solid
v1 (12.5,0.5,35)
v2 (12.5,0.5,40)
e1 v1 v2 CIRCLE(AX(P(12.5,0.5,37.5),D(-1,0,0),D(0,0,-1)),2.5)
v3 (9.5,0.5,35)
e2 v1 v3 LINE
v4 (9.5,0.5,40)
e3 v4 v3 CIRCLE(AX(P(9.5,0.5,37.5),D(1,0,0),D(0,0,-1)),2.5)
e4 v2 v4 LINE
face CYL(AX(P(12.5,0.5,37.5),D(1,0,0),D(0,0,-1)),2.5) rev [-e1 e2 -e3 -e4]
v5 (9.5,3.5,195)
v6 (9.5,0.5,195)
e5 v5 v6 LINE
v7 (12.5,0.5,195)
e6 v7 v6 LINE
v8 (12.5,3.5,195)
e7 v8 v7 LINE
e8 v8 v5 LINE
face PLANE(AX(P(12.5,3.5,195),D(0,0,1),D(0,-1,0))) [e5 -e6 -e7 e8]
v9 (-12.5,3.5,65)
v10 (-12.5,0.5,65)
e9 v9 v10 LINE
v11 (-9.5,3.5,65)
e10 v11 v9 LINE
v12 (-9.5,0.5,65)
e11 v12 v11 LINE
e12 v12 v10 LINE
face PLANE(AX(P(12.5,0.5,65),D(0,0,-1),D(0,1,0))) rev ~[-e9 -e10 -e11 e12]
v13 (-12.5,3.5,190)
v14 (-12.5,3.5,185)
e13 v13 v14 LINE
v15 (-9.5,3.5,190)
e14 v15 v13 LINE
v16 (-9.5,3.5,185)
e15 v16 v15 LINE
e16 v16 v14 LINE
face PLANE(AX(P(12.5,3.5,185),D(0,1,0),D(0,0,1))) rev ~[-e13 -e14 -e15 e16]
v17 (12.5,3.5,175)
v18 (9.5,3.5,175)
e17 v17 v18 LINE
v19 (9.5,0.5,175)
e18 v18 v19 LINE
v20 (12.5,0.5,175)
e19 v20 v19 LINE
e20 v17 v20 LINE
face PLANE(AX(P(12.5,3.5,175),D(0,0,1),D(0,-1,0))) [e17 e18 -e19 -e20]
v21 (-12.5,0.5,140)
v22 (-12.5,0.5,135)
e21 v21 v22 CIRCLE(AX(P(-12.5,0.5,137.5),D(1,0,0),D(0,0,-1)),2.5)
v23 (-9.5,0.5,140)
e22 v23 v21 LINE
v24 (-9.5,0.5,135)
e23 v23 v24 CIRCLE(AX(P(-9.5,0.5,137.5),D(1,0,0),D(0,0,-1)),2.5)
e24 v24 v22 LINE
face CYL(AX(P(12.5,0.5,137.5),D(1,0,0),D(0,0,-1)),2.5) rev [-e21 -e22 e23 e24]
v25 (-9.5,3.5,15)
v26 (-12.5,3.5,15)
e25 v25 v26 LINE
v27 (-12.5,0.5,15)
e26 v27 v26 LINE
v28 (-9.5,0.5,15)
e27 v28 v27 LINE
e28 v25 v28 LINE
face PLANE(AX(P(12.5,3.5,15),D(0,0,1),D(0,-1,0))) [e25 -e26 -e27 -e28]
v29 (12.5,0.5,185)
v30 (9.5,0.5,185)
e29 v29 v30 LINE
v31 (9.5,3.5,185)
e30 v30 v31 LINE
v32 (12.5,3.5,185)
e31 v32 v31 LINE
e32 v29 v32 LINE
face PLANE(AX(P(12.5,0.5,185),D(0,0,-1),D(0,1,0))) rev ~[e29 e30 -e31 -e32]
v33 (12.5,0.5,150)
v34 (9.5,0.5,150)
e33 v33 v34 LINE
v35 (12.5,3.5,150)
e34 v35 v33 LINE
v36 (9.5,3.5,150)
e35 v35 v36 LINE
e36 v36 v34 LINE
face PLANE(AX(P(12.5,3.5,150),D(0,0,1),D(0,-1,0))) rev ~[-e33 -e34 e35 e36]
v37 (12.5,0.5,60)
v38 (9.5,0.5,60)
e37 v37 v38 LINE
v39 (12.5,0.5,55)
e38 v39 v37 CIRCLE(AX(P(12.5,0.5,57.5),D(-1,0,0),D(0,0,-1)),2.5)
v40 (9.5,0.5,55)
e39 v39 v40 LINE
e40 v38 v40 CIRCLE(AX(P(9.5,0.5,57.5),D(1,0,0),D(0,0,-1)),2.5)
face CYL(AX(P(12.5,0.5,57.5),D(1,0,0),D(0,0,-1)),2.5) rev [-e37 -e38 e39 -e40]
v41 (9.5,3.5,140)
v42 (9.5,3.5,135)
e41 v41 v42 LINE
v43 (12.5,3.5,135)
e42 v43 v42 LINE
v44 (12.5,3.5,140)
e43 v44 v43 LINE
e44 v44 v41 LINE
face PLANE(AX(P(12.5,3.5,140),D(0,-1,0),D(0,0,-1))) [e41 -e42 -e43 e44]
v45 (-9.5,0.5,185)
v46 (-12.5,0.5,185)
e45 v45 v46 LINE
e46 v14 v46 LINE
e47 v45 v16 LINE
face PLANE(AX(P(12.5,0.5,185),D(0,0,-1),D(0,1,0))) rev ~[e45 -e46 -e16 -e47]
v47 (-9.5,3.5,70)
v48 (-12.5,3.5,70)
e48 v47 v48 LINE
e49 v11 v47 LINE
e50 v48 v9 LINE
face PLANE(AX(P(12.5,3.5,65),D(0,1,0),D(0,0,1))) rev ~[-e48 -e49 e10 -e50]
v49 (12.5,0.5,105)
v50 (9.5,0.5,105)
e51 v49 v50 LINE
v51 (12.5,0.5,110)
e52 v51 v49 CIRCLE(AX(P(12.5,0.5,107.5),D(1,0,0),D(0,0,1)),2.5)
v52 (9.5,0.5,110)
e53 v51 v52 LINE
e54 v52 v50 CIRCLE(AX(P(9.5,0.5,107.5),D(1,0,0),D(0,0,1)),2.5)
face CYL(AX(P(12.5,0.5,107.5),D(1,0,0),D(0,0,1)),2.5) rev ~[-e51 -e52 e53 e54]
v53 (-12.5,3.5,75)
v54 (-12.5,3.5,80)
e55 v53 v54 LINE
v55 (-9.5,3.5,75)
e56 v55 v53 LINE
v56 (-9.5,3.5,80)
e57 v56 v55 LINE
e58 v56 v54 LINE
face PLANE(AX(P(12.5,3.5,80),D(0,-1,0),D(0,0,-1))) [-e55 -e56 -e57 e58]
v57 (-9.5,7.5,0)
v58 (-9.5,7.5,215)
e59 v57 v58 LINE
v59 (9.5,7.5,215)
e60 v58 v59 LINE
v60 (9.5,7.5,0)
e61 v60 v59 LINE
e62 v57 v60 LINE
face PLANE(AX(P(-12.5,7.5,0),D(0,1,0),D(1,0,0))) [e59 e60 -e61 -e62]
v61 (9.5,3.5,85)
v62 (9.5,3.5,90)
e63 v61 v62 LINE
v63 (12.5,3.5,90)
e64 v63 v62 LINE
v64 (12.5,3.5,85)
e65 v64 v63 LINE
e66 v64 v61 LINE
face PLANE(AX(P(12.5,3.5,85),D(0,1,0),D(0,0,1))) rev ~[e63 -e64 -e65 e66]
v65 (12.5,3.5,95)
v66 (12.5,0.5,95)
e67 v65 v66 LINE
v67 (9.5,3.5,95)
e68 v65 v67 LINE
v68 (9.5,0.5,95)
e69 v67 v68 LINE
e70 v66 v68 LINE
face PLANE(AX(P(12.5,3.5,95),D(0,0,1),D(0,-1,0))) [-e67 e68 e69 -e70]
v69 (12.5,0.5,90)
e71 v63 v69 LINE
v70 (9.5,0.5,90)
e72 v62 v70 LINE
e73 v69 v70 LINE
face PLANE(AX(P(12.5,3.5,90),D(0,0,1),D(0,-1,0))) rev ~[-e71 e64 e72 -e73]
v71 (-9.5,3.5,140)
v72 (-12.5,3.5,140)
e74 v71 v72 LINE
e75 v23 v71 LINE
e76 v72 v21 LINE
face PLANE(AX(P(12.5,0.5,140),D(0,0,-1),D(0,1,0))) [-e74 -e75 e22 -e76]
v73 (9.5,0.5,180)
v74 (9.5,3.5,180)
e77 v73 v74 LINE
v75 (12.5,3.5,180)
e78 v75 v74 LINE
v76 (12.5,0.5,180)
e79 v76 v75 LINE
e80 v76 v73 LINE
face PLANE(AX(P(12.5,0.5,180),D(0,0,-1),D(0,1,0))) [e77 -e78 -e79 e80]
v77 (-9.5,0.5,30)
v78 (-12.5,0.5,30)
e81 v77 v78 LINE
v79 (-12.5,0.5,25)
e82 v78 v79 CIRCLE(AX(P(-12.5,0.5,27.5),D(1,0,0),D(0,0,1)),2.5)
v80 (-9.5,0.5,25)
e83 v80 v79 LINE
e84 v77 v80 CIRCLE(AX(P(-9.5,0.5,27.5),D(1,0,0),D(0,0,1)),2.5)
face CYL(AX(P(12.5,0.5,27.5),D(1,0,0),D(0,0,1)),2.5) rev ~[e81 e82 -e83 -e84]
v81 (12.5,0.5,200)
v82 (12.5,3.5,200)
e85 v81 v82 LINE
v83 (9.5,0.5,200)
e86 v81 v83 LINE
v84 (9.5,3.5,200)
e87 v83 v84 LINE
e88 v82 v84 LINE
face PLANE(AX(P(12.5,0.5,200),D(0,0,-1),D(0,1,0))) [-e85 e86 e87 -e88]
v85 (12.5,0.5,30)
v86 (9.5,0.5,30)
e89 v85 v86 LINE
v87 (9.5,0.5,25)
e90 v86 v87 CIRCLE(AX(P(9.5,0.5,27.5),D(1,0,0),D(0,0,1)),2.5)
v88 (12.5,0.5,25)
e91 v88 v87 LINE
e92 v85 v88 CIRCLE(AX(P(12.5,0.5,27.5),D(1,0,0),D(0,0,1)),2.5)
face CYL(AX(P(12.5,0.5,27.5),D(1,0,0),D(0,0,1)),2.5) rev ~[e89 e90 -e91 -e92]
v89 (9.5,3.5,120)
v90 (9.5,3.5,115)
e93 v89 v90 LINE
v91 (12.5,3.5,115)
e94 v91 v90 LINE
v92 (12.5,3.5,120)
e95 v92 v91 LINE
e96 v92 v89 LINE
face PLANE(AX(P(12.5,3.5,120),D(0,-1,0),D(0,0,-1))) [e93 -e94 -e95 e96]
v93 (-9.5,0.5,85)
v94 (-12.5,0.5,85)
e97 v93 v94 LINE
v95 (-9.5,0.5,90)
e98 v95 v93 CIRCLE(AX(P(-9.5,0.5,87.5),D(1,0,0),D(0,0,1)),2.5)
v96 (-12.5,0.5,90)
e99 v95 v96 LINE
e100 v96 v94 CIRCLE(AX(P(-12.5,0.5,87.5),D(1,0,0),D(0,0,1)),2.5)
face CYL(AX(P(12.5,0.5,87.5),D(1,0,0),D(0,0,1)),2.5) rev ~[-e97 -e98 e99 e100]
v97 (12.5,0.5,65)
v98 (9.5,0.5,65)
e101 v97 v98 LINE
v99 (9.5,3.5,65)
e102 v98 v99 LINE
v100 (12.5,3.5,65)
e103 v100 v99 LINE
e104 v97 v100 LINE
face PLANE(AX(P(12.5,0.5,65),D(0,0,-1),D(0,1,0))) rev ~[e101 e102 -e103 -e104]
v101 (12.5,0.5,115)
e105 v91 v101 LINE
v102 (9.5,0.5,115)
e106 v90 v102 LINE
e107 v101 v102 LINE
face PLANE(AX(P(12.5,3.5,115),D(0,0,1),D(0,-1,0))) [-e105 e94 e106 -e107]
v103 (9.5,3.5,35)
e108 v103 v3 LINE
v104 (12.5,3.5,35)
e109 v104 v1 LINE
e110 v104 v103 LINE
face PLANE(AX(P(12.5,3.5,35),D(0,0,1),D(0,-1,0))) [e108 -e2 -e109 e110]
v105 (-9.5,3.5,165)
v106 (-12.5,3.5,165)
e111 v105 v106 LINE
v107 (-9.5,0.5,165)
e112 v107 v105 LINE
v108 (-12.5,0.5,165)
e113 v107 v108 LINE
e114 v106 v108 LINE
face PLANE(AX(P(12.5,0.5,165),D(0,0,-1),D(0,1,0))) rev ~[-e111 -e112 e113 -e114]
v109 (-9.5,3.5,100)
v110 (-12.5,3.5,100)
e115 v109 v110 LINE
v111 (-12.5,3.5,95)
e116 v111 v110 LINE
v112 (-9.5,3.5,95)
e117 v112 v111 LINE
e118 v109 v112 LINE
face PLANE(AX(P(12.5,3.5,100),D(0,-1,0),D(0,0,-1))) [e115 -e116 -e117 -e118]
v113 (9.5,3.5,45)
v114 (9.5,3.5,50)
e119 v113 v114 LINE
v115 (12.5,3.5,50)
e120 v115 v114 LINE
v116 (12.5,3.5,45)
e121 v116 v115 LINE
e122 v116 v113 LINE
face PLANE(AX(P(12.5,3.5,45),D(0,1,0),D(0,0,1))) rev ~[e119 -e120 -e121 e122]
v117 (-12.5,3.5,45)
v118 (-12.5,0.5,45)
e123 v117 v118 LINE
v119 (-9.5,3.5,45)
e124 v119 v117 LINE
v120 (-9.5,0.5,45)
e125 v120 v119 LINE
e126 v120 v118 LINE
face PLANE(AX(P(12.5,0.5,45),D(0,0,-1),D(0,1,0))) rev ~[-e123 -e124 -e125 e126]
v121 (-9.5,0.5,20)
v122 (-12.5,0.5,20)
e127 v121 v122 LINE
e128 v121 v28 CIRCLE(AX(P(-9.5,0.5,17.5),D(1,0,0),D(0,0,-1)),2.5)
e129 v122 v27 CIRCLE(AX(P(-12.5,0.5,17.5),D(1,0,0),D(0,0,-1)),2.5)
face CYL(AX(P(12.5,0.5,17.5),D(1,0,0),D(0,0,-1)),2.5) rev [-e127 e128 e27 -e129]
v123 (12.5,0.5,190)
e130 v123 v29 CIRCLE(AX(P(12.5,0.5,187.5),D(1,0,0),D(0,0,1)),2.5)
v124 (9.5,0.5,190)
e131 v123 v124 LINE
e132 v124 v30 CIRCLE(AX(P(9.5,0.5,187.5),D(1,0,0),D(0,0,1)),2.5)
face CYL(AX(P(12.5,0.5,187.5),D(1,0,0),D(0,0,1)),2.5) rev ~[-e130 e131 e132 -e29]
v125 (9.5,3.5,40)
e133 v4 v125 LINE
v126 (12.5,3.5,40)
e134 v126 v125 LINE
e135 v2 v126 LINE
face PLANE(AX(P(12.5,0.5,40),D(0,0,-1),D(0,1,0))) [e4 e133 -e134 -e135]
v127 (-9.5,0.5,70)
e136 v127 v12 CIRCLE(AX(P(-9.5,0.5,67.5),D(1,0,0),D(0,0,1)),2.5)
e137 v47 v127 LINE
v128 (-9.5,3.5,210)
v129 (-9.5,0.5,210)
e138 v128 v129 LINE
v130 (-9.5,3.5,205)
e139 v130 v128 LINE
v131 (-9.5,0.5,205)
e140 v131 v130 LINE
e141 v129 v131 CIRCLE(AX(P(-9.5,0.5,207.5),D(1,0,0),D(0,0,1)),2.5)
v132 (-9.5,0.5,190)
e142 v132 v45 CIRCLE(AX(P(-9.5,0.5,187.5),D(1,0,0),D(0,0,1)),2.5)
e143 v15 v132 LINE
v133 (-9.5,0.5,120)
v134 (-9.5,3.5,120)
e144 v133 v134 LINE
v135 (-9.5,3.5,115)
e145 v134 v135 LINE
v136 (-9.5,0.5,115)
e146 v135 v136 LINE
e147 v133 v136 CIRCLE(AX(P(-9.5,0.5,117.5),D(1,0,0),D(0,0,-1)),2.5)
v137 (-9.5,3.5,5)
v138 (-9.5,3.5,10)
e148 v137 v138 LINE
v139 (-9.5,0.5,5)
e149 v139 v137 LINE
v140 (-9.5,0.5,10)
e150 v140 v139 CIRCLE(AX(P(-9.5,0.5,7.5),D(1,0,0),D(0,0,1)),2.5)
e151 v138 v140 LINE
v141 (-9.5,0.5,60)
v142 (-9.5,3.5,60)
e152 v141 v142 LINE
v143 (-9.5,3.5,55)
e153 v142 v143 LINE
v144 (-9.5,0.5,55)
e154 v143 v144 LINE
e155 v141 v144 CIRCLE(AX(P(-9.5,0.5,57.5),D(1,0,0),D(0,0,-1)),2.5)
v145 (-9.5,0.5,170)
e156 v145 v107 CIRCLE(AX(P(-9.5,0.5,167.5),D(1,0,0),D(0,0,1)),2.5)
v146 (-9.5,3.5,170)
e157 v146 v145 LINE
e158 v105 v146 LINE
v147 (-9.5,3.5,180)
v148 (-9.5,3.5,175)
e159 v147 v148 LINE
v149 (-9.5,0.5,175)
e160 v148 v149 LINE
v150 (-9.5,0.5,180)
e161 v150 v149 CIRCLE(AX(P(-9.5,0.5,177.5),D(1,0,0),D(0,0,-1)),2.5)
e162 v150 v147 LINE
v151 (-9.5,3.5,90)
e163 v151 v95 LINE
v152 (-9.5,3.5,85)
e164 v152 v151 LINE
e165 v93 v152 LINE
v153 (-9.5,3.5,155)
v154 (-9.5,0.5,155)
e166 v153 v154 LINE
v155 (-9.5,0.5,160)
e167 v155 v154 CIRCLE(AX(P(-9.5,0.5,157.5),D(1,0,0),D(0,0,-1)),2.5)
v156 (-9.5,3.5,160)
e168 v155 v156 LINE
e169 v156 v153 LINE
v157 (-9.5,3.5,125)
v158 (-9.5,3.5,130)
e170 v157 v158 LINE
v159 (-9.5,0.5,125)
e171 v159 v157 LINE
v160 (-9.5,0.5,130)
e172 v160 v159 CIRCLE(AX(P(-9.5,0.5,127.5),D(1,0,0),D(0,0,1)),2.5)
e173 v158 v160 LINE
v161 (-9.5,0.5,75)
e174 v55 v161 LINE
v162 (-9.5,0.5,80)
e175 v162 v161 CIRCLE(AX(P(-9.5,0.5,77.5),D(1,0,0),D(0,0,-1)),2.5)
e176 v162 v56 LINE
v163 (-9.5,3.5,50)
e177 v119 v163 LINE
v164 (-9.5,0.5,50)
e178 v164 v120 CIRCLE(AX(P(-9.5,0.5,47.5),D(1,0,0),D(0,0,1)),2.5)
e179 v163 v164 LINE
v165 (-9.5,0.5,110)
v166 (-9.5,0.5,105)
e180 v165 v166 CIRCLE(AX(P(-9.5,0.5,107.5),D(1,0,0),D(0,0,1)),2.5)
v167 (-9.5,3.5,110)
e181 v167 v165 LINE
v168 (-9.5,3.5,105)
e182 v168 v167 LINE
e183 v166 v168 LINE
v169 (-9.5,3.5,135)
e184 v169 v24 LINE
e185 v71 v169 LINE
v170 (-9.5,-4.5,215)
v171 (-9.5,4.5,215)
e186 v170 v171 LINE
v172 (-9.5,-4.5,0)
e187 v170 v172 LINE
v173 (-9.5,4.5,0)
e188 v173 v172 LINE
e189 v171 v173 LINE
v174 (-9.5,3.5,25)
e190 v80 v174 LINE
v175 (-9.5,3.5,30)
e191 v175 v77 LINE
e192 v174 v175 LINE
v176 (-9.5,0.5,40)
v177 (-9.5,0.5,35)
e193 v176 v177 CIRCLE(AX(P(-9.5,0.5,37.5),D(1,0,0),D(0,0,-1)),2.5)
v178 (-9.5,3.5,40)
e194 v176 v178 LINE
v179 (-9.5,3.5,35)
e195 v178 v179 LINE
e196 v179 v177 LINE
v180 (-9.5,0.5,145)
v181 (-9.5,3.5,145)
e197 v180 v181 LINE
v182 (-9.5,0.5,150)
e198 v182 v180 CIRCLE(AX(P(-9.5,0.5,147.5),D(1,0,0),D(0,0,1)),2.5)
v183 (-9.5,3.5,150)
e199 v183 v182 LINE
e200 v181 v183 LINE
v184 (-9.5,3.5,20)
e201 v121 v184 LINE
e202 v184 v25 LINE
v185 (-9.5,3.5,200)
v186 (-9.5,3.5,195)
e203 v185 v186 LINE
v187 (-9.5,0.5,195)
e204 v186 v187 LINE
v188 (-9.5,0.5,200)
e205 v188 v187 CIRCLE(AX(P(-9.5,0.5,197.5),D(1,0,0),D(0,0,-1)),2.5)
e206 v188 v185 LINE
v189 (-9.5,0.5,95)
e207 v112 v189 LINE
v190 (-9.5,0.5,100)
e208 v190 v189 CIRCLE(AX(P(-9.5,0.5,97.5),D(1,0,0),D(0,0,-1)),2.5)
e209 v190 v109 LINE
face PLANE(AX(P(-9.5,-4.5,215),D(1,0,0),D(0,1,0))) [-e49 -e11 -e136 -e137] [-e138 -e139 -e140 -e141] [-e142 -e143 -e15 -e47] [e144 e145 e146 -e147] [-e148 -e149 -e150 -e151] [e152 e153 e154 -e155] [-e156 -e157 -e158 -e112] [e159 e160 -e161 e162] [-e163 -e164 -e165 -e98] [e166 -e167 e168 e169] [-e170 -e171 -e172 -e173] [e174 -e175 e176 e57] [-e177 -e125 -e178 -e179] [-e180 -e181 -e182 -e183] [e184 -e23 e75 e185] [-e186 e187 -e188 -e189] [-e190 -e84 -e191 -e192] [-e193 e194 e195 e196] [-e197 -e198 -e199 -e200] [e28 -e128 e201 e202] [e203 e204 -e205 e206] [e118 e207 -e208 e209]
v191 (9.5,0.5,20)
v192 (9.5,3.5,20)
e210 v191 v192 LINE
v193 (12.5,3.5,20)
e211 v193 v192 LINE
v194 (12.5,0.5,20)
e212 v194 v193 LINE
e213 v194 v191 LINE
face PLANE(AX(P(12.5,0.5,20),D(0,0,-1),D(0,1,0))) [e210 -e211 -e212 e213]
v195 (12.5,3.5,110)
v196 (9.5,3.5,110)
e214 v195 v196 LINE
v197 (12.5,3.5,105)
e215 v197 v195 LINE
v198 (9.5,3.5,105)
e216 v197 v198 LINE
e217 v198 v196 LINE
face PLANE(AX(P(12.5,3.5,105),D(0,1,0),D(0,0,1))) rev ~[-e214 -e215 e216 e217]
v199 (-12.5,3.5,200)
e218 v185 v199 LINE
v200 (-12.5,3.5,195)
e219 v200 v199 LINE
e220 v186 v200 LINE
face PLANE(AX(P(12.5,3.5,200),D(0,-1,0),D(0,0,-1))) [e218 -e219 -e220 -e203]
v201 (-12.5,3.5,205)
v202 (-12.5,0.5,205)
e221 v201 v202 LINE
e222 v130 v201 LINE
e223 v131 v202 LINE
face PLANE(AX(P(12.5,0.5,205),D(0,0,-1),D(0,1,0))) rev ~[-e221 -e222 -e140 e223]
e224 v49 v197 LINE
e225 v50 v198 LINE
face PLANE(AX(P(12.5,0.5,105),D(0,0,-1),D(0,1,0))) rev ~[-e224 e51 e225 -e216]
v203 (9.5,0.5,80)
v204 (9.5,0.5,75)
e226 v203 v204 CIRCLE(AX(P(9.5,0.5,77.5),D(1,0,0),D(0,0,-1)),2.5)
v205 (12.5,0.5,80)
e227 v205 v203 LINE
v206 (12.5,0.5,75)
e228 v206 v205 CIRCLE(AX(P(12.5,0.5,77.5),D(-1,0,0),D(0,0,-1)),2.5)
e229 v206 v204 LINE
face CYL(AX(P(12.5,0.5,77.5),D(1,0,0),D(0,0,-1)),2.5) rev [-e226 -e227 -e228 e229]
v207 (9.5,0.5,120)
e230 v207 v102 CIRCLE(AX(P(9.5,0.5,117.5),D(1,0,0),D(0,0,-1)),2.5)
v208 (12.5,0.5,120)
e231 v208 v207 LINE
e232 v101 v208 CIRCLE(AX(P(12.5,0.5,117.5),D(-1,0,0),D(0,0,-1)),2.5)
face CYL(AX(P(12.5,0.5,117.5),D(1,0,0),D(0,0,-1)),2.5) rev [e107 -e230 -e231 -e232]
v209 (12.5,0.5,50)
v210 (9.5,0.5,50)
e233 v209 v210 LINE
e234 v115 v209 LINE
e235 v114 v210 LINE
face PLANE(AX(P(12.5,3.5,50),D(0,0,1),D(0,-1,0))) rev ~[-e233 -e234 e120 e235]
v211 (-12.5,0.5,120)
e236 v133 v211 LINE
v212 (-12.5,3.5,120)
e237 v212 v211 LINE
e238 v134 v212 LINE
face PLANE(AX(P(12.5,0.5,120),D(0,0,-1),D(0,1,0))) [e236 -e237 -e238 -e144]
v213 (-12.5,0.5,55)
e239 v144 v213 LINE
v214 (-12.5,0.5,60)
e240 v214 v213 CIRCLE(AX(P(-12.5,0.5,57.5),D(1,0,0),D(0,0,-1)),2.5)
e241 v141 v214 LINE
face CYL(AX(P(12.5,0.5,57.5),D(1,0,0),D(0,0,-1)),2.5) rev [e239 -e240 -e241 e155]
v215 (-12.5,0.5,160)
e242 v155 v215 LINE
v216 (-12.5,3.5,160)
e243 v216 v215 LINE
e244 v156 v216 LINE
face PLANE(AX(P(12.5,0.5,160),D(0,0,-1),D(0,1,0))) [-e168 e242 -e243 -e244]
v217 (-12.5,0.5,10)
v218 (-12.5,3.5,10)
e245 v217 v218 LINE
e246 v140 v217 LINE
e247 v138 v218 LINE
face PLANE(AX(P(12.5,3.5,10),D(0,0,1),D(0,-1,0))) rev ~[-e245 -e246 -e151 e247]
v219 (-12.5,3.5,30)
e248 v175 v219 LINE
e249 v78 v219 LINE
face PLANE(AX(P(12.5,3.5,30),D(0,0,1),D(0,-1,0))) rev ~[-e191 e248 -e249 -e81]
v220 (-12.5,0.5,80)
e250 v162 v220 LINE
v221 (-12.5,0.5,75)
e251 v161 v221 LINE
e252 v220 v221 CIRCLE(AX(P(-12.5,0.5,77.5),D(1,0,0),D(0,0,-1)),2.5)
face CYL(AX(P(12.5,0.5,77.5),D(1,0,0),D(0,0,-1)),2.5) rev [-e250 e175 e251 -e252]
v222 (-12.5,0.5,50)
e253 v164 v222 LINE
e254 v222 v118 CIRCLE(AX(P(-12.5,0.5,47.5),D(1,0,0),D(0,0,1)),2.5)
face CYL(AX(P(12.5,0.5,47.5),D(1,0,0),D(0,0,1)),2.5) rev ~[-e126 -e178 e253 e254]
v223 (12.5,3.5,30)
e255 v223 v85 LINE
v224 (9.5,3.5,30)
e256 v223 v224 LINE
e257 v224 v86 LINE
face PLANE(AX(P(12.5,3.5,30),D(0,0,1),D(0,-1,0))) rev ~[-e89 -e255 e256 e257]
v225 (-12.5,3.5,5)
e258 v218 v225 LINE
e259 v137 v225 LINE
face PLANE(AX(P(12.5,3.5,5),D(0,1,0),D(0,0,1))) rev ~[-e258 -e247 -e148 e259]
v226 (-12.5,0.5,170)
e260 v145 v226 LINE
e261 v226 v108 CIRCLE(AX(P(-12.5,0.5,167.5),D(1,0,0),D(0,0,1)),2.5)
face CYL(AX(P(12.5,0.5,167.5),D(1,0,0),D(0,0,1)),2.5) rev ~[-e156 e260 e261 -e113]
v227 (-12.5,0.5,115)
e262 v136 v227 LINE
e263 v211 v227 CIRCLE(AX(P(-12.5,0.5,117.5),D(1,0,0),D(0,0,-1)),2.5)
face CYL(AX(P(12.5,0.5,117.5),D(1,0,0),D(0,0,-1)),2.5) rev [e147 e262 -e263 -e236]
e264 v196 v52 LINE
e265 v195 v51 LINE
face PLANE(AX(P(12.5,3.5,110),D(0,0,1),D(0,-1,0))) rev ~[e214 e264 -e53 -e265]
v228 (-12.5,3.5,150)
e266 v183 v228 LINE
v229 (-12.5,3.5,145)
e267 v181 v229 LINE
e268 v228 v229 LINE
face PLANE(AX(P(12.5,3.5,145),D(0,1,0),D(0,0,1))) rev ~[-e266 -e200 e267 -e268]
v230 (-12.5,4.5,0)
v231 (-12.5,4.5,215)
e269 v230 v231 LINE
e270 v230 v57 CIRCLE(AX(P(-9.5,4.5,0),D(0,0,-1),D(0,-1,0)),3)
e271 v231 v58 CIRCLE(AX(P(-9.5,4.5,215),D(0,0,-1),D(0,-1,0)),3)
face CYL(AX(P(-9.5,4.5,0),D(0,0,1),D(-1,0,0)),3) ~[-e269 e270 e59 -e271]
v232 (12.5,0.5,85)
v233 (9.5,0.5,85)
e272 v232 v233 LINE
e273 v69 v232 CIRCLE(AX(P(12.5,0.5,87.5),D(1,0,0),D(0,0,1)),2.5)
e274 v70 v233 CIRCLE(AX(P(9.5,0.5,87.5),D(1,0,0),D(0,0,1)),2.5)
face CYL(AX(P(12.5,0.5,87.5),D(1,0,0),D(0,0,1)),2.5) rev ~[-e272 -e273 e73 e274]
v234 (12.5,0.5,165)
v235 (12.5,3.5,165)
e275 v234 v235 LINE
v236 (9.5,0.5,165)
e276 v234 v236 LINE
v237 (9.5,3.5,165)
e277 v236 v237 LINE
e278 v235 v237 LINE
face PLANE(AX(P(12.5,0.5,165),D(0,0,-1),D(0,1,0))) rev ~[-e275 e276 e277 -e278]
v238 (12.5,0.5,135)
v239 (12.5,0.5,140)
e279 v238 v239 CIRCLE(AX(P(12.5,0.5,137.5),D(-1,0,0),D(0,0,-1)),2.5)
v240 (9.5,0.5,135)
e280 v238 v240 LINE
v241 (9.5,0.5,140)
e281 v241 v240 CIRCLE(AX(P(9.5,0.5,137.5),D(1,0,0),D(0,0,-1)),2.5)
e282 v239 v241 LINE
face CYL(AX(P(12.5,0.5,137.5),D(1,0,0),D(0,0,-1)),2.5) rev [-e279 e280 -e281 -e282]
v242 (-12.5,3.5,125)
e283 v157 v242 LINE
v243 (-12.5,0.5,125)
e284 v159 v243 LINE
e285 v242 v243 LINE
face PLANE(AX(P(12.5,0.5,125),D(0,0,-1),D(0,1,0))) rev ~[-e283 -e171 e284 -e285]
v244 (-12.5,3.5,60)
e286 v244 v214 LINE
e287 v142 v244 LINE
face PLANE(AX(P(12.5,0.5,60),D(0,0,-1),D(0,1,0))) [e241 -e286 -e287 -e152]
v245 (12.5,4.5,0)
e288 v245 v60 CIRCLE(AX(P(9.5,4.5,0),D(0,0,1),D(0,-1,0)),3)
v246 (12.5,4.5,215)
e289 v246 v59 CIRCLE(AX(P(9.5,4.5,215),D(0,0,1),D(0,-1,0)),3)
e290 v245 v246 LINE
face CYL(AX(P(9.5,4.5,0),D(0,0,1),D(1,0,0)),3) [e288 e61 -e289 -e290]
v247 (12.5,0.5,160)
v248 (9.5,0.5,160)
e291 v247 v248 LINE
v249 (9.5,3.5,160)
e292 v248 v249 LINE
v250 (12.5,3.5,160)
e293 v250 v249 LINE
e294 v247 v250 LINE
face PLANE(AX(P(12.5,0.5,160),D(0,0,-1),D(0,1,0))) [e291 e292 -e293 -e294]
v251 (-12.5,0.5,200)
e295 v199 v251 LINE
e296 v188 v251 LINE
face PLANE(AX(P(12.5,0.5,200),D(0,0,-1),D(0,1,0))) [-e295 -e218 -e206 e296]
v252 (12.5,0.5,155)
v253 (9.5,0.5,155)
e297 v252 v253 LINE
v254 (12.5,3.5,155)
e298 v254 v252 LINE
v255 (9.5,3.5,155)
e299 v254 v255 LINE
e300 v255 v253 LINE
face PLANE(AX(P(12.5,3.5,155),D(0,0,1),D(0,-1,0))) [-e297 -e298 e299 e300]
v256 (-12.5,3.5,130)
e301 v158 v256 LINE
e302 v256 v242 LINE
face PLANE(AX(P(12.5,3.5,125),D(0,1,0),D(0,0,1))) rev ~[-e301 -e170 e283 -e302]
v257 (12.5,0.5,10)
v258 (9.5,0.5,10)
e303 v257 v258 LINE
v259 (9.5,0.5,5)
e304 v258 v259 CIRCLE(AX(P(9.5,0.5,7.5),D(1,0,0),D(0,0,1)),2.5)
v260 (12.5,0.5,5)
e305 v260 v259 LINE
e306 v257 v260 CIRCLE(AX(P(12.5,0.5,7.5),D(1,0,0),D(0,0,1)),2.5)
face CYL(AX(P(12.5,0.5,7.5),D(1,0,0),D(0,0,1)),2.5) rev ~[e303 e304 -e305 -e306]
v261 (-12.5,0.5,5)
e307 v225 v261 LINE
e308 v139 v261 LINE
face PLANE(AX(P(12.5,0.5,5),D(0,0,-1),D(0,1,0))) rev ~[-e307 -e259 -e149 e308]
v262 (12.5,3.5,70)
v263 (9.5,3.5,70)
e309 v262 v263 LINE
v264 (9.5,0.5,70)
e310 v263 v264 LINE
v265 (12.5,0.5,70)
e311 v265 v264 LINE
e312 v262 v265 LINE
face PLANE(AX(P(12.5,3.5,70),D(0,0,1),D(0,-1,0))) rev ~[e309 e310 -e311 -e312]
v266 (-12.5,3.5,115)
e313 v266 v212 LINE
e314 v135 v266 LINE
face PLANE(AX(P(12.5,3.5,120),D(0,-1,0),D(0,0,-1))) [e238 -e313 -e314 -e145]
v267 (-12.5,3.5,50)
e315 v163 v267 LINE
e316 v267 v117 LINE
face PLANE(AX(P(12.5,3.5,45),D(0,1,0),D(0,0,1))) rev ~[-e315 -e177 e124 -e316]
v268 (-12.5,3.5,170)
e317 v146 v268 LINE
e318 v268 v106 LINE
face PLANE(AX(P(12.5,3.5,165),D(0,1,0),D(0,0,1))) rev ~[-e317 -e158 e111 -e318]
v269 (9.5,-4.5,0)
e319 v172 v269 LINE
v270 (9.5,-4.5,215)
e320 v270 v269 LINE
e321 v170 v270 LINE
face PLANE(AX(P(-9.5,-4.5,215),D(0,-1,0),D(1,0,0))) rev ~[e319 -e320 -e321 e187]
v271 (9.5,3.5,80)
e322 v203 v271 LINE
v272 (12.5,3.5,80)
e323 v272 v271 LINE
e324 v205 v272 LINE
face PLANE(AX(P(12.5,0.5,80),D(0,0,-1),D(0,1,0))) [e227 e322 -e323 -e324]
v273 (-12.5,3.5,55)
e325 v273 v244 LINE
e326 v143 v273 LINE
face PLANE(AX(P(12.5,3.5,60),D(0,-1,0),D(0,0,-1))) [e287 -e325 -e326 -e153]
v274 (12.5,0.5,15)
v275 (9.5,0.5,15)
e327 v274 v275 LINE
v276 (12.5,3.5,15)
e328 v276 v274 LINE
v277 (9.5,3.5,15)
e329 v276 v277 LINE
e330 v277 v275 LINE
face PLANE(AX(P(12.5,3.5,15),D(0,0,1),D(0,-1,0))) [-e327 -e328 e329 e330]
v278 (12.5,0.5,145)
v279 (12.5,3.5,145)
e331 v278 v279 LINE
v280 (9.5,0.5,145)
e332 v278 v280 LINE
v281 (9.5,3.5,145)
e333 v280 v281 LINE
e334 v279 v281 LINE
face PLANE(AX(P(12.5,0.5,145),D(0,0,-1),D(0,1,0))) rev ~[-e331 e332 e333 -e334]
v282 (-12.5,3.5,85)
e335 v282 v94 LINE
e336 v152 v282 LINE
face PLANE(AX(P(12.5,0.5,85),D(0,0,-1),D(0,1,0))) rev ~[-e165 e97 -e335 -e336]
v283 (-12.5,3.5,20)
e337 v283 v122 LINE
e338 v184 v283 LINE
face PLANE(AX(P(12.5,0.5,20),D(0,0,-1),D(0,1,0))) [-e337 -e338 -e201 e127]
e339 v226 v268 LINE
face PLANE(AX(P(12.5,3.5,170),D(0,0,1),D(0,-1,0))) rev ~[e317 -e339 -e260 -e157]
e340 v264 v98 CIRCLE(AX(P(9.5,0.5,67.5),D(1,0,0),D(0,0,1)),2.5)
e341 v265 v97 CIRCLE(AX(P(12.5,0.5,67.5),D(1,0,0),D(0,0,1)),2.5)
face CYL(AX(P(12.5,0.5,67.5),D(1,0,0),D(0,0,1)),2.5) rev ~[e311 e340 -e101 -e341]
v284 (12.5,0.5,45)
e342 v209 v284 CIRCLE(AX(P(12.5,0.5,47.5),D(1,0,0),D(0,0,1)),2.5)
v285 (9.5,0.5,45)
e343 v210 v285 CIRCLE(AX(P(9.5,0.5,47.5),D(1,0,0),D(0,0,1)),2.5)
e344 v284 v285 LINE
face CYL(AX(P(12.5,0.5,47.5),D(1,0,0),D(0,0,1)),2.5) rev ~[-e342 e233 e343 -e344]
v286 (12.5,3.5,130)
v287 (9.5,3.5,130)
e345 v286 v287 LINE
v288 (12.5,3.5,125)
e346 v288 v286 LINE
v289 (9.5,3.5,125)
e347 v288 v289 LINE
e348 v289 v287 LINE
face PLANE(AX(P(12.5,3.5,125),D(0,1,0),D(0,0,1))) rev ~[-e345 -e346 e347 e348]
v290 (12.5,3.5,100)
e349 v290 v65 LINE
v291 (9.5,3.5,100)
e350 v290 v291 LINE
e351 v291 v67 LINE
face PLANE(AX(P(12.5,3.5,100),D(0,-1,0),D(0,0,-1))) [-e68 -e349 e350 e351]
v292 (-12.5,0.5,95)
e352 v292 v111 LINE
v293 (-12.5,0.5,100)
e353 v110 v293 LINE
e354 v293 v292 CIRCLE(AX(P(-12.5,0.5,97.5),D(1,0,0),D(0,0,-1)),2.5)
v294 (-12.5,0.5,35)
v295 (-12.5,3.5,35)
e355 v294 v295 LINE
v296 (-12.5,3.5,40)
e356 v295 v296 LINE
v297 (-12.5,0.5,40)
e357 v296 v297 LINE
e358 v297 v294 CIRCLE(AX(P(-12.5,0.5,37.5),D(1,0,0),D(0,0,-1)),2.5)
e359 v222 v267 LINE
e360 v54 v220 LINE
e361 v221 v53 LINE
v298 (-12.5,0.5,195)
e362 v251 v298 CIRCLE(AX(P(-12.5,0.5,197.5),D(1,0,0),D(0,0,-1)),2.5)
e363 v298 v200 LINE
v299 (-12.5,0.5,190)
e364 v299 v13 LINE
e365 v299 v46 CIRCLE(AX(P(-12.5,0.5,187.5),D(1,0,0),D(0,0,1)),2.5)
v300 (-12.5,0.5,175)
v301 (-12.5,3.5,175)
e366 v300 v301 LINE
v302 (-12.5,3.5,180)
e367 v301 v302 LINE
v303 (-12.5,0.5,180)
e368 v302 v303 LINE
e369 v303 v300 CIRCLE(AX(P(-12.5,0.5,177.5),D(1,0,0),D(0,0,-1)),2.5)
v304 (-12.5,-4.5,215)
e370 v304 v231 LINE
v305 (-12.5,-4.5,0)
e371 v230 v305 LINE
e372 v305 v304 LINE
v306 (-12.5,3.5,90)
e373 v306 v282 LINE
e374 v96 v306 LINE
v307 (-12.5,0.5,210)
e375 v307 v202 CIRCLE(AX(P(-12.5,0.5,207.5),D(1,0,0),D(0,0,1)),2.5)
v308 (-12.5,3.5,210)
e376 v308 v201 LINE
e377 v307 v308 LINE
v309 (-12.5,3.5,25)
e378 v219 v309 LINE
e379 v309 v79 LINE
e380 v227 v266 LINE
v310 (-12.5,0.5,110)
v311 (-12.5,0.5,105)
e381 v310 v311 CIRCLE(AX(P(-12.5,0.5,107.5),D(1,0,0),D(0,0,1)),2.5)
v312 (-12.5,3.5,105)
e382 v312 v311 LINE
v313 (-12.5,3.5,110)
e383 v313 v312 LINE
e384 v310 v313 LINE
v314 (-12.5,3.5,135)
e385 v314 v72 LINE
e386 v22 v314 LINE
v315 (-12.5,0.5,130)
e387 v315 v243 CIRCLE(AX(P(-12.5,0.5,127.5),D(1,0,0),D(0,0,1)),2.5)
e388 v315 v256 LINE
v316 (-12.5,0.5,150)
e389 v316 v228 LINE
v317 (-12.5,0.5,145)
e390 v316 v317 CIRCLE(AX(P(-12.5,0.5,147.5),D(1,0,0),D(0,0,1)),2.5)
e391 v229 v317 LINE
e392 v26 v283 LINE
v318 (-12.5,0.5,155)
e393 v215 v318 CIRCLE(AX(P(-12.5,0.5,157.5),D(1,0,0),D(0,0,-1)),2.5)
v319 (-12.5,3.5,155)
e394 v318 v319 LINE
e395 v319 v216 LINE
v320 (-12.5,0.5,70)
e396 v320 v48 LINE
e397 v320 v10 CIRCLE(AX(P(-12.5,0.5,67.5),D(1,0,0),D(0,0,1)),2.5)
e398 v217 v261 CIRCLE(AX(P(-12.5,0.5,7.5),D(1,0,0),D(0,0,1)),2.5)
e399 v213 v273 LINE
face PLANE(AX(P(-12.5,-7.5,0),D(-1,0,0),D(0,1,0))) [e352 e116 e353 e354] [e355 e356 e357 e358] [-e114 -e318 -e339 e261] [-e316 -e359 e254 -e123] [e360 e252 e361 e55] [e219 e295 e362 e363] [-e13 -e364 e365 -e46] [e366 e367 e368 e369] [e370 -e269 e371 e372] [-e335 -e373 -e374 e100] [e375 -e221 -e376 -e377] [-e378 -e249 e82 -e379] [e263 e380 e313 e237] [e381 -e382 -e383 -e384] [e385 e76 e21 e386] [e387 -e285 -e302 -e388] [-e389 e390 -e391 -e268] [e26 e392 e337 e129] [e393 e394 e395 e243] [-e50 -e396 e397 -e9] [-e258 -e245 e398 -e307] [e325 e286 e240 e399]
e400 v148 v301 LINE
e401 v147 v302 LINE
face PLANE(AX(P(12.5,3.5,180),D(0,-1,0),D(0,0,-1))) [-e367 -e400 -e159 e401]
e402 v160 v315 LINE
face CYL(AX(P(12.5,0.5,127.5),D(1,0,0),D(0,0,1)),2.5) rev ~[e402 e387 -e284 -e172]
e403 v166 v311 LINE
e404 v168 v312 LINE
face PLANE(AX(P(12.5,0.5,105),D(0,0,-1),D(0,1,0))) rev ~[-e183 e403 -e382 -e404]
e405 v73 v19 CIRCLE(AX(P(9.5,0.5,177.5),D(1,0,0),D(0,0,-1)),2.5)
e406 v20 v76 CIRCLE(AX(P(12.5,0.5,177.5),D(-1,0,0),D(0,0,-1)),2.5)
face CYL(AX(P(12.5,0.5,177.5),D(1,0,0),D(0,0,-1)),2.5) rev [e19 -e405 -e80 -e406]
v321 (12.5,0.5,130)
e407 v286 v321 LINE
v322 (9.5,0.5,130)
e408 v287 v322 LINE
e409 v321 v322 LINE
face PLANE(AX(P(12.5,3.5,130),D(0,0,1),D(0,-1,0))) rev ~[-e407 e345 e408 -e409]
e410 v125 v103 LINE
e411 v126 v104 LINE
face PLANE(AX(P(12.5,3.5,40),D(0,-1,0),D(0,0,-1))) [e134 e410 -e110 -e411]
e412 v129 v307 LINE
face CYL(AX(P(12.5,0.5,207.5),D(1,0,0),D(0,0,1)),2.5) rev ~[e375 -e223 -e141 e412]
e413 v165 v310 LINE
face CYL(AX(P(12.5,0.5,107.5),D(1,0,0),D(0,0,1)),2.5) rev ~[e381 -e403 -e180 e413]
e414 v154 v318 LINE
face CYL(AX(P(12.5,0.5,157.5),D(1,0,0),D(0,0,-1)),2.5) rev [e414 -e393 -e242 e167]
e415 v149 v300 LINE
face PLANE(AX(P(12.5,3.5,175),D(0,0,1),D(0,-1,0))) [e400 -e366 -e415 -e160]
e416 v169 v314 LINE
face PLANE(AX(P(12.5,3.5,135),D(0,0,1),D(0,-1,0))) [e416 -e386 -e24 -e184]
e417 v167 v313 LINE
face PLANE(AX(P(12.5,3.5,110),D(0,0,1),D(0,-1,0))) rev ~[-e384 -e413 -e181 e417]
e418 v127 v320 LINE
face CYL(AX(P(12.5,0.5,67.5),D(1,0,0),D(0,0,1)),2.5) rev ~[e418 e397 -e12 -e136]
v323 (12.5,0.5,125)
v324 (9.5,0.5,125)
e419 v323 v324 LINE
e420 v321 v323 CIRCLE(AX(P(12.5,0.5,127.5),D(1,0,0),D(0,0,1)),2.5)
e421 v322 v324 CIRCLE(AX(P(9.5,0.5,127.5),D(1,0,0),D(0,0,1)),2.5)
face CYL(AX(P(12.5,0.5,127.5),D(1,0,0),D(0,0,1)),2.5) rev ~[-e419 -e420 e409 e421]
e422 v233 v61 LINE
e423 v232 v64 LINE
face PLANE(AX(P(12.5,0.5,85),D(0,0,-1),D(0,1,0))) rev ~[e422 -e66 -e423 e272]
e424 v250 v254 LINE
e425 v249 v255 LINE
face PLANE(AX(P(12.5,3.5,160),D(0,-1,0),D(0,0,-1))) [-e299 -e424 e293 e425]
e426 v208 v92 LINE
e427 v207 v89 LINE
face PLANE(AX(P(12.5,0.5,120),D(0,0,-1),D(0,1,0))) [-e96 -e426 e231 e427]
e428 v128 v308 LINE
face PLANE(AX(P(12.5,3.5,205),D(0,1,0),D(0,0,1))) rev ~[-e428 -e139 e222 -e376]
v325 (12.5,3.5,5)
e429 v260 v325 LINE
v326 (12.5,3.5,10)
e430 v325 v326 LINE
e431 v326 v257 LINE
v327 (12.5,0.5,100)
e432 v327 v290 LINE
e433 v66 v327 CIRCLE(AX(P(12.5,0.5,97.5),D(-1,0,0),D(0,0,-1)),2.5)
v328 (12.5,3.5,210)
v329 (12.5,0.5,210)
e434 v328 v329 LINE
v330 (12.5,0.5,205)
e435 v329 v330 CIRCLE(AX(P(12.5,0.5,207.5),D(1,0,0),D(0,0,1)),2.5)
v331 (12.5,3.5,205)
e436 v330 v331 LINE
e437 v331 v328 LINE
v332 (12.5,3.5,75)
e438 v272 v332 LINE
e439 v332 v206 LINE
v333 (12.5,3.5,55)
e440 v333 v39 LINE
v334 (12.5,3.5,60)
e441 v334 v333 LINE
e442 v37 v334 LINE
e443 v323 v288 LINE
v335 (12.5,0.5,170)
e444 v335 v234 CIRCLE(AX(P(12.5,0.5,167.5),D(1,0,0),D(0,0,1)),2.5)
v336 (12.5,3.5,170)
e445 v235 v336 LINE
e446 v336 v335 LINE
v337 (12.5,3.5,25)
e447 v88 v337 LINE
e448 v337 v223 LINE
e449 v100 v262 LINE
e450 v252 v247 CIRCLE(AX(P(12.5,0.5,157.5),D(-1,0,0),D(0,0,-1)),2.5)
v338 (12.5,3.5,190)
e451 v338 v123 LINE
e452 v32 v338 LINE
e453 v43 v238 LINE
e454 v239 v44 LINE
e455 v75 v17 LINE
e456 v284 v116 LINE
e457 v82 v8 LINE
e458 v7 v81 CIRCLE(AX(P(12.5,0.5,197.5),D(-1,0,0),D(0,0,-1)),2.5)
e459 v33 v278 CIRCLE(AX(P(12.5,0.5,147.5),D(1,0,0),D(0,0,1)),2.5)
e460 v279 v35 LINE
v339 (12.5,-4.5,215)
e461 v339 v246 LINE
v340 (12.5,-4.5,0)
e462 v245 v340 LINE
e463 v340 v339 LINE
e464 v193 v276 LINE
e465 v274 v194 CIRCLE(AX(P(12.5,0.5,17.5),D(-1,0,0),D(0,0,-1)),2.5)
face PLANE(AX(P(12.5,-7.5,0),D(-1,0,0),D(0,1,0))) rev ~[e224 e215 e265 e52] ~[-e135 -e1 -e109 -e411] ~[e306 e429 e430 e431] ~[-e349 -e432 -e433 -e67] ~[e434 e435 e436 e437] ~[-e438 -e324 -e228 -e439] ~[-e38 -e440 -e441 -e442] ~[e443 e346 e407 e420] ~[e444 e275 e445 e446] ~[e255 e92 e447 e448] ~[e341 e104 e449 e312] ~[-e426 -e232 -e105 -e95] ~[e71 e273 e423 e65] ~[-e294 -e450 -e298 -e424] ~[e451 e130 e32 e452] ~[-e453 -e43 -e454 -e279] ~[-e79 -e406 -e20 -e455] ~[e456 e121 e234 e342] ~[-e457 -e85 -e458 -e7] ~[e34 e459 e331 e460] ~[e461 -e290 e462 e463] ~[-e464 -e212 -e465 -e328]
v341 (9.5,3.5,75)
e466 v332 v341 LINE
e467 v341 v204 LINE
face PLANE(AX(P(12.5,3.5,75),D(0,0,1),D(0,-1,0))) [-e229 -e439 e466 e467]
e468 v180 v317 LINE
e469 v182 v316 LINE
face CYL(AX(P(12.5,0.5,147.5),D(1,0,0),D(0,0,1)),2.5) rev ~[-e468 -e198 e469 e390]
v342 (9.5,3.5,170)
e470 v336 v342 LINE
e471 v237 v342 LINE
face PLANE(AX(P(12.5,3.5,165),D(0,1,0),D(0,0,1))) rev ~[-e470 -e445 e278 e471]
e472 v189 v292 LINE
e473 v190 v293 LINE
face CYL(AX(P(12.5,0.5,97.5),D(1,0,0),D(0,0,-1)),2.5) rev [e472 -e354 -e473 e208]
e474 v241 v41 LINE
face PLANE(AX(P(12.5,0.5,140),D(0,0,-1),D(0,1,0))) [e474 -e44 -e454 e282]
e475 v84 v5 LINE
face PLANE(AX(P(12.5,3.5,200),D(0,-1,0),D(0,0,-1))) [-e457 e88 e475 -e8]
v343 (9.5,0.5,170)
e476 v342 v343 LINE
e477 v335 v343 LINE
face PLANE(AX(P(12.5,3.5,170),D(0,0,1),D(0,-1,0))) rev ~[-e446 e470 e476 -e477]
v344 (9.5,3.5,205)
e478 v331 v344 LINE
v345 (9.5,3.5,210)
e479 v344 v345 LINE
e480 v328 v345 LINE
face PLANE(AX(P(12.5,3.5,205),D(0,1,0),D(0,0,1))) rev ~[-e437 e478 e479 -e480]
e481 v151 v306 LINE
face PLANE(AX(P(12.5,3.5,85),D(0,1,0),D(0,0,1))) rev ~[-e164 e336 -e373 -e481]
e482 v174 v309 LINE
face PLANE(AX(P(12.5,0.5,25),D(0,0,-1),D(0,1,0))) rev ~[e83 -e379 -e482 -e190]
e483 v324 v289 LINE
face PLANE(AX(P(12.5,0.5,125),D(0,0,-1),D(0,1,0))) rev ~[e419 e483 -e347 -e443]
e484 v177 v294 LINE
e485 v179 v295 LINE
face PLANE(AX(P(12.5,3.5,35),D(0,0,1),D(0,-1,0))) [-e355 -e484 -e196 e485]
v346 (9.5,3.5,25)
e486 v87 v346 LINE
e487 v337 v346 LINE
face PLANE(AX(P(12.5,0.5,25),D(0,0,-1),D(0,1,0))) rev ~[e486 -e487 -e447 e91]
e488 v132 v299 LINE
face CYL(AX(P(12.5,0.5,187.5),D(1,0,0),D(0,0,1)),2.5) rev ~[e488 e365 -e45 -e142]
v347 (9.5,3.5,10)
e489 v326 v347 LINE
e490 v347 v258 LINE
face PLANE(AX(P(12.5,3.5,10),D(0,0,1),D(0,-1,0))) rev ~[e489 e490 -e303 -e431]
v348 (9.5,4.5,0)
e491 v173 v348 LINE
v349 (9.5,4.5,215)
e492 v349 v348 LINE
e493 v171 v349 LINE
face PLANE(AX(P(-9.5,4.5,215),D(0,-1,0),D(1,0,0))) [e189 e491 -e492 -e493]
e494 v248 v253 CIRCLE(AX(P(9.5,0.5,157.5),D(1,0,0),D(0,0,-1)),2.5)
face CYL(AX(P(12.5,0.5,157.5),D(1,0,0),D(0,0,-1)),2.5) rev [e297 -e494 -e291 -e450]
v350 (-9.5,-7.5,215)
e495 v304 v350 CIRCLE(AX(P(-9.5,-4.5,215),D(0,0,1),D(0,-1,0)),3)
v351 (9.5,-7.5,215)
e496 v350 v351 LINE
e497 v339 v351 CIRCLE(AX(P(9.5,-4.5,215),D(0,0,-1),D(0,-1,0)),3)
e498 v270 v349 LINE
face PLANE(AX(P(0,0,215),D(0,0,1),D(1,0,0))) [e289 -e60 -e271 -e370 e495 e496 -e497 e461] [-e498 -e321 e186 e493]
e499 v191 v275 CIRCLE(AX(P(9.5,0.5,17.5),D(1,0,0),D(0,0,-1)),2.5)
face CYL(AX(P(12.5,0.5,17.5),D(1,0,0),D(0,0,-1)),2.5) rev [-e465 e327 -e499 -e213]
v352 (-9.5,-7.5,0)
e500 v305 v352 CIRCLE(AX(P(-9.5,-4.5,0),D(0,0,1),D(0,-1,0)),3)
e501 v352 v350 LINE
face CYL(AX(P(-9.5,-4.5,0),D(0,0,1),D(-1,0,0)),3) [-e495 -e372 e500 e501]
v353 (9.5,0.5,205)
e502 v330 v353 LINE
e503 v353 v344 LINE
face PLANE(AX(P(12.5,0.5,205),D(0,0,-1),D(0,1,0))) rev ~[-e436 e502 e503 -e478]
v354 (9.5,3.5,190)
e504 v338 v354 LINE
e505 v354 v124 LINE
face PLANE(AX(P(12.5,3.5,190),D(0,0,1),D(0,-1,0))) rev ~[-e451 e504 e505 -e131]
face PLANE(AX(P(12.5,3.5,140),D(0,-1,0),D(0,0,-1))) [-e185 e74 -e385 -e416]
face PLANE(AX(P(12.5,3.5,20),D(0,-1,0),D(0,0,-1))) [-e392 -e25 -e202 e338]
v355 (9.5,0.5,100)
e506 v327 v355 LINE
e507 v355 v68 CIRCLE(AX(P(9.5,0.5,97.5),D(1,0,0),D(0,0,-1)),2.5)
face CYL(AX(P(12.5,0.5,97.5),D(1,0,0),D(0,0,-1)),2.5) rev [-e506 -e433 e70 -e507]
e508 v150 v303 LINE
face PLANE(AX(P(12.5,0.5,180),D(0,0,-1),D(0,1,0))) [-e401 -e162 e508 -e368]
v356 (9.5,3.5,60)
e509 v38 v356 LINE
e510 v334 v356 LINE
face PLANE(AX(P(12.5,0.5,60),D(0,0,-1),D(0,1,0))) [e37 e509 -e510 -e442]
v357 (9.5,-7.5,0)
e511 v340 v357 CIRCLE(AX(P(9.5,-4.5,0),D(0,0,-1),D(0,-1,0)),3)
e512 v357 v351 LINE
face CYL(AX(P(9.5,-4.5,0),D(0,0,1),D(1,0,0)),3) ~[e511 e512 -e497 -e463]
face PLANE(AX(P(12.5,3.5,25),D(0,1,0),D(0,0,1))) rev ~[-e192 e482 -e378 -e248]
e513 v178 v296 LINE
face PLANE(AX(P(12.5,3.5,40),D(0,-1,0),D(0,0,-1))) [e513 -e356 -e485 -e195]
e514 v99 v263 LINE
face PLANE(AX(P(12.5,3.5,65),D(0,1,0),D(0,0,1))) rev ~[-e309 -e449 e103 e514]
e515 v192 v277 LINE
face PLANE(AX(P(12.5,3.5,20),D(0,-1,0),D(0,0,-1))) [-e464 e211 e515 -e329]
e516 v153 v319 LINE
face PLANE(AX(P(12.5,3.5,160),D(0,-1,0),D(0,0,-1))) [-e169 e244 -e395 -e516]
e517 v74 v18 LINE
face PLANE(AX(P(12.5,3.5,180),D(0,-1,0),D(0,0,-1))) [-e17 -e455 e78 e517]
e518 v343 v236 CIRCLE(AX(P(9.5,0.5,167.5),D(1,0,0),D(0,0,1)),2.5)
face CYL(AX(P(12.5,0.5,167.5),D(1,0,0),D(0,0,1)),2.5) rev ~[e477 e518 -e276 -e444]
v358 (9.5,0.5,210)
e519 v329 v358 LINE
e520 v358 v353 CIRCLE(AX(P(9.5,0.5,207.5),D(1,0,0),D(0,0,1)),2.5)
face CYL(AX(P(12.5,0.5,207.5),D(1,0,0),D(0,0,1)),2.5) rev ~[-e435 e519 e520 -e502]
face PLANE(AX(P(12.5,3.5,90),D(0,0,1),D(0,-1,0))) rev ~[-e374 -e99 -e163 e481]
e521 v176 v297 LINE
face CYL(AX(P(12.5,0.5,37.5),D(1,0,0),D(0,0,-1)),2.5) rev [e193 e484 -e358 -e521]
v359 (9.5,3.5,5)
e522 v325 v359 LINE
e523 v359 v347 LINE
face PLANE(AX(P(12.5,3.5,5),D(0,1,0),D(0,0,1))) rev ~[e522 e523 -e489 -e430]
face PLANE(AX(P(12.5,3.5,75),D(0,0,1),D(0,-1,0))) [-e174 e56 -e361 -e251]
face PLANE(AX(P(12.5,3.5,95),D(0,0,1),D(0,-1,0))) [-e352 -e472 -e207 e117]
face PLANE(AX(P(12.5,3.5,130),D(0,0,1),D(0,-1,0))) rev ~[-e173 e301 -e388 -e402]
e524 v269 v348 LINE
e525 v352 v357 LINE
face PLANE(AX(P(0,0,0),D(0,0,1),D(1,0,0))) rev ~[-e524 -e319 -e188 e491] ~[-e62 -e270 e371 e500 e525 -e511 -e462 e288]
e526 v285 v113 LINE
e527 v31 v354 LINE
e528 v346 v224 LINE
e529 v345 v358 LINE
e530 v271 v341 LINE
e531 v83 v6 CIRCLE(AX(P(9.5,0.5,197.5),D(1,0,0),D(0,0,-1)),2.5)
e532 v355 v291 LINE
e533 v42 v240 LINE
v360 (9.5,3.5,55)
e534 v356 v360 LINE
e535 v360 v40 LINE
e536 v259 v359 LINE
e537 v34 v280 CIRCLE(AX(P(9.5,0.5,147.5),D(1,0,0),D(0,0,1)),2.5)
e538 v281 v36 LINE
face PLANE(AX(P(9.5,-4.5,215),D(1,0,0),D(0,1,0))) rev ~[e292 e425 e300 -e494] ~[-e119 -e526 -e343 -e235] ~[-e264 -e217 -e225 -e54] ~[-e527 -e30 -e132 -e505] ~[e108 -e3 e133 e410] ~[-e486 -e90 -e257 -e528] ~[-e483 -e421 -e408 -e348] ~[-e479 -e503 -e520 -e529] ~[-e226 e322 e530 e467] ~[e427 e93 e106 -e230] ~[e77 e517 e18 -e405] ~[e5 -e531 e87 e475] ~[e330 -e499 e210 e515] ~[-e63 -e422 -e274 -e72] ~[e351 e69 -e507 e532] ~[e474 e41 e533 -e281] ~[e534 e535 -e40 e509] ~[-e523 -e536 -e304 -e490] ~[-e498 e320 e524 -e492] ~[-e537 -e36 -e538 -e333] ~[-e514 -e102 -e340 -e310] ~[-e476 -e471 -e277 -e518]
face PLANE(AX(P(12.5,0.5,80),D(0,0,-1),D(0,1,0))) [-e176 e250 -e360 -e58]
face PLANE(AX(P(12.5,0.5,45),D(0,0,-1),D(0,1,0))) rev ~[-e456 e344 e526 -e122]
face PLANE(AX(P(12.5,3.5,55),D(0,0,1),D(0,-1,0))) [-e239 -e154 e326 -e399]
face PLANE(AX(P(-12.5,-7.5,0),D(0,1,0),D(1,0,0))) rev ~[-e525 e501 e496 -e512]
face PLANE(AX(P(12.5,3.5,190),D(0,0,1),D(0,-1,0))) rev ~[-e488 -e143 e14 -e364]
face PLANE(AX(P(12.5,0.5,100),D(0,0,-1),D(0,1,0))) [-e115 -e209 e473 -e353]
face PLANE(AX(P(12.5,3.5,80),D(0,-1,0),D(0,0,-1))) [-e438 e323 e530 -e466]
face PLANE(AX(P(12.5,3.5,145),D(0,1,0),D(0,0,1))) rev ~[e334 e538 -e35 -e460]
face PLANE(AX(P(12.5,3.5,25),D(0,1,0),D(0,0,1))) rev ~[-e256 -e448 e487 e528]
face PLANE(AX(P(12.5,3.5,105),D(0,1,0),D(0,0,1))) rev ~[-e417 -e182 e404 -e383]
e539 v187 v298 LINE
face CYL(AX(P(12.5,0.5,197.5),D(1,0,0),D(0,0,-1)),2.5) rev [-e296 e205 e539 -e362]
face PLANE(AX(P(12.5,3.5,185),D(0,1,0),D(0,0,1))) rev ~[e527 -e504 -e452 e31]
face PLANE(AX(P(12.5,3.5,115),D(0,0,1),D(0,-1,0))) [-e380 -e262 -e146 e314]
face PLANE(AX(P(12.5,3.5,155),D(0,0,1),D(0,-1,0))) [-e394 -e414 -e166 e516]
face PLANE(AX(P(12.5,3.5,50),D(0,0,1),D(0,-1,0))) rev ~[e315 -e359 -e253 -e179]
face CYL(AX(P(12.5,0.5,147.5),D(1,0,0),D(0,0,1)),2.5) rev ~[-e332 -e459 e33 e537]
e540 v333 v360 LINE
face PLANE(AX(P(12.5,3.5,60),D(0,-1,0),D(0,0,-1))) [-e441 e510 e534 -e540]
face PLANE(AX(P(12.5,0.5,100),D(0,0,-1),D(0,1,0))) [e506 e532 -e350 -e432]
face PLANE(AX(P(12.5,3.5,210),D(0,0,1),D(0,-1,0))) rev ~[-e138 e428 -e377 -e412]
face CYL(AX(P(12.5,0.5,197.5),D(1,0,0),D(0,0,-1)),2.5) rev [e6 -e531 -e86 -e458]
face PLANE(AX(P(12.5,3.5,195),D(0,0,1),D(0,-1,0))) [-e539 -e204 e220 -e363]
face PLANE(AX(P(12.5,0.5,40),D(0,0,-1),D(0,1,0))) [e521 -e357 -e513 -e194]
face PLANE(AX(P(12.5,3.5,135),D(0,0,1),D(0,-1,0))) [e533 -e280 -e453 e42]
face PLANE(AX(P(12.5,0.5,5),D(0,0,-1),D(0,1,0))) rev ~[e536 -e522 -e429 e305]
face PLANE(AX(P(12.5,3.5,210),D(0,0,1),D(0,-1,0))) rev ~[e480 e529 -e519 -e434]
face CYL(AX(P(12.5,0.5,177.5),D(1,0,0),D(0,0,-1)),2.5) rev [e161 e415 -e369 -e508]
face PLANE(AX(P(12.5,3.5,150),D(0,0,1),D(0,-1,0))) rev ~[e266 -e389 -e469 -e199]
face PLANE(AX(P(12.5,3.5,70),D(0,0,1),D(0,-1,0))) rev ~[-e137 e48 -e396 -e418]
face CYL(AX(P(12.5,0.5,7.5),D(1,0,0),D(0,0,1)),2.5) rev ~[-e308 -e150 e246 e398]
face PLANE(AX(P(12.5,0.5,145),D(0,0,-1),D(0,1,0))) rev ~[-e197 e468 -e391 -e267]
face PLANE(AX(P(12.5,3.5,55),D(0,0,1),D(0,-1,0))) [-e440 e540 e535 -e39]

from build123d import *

# Parameters (mm, degrees)
SKETCH1_W           = 25
SKETCH1_H           = 15
BOSS_EXTRUDE1_DEPTH = 215
SKETCH2_W           = 19
SKETCH2_H           = 9
CUT_EXTRUDE1_DEPTH  = 263
CUT_EXTRUDE2_DEPTH  = 263
FILLET1_R           = 3


with BuildPart() as part:
    # Sketch1 → Boss-Extrude1 (new body)
    with BuildSketch(Plane.XY):
        Rectangle(SKETCH1_W, SKETCH1_H)
    extrude(amount=BOSS_EXTRUDE1_DEPTH)

    # Sketch2 → Cut-Extrude1 (cut)
    with BuildSketch(Plane.XY.offset(215)):
        Rectangle(SKETCH2_W, SKETCH2_H)
    extrude(amount=-CUT_EXTRUDE1_DEPTH, mode=Mode.SUBTRACT)

    # Sketch3 → Cut-Extrude2 (cut)
    with BuildSketch(Plane(origin=(12.5, 0, 0), x_dir=(0, 0, -1), z_dir=(1, 0, 0))):
        with BuildLine():
            Line((-210, 3.5), (-210, 0.5))
            ThreePointArc((-210, 0.5), (-207.5, -2), (-205, 0.5))
            Line((-205, 0.5), (-205, 3.5))
            Line((-205, 3.5), (-210, 3.5))
        make_face()
        with BuildLine():
            ThreePointArc((-195, 0.5), (-197.5, -2), (-200, 0.5))
            Line((-200, 0.5), (-200, 3.5))
            Line((-200, 3.5), (-195, 3.5))
            Line((-195, 3.5), (-195, 0.5))
        make_face()
        with BuildLine():
            Line((-190, 3.5), (-190, 0.5))
            ThreePointArc((-190, 0.5), (-187.5, -2), (-185, 0.5))
            Line((-185, 0.5), (-185, 3.5))
            Line((-185, 3.5), (-190, 3.5))
        make_face()
        with BuildLine():
            ThreePointArc((-175, 0.5), (-177.5, -2), (-180, 0.5))
            Line((-180, 0.5), (-180, 3.5))
            Line((-180, 3.5), (-175, 3.5))
            Line((-175, 3.5), (-175, 0.5))
        make_face()
        with BuildLine():
            Line((-170, 3.5), (-170, 0.5))
            ThreePointArc((-170, 0.5), (-167.5, -2), (-165, 0.5))
            Line((-165, 0.5), (-165, 3.5))
            Line((-165, 3.5), (-170, 3.5))
        make_face()
        with BuildLine():
            ThreePointArc((-155, 0.5), (-157.5, -2), (-160, 0.5))
            Line((-160, 0.5), (-160, 3.5))
            Line((-160, 3.5), (-155, 3.5))
            Line((-155, 3.5), (-155, 0.5))
        make_face()
        with BuildLine():
            Line((-150, 3.5), (-150, 0.5))
            ThreePointArc((-150, 0.5), (-147.5, -2), (-145, 0.5))
            Line((-145, 0.5), (-145, 3.5))
            Line((-145, 3.5), (-150, 3.5))
        make_face()
        with BuildLine():
            ThreePointArc((-135, 0.5), (-137.5, -2), (-140, 0.5))
            Line((-140, 0.5), (-140, 3.5))
            Line((-140, 3.5), (-135, 3.5))
            Line((-135, 3.5), (-135, 0.5))
        make_face()
        with BuildLine():
            Line((-130, 3.5), (-130, 0.5))
            ThreePointArc((-130, 0.5), (-127.5, -2), (-125, 0.5))
            Line((-125, 0.5), (-125, 3.5))
            Line((-125, 3.5), (-130, 3.5))
        make_face()
        with BuildLine():
            ThreePointArc((-115, 0.5), (-117.5, -2), (-120, 0.5))
            Line((-120, 0.5), (-120, 3.5))
            Line((-120, 3.5), (-115, 3.5))
            Line((-115, 3.5), (-115, 0.5))
        make_face()
        with BuildLine():
            Line((-110, 3.5), (-110, 0.5))
            ThreePointArc((-110, 0.5), (-107.5, -2), (-105, 0.5))
            Line((-105, 0.5), (-105, 3.5))
            Line((-105, 3.5), (-110, 3.5))
        make_face()
        with BuildLine():
            ThreePointArc((-95, 0.5), (-97.5, -2), (-100, 0.5))
            Line((-100, 0.5), (-100, 3.5))
            Line((-100, 3.5), (-95, 3.5))
            Line((-95, 3.5), (-95, 0.5))
        make_face()
        with BuildLine():
            Line((-90, 3.5), (-90, 0.5))
            ThreePointArc((-90, 0.5), (-87.5, -2), (-85, 0.5))
            Line((-85, 0.5), (-85, 3.5))
            Line((-85, 3.5), (-90, 3.5))
        make_face()
        with BuildLine():
            ThreePointArc((-75, 0.5), (-77.5, -2), (-80, 0.5))
            Line((-80, 0.5), (-80, 3.5))
            Line((-80, 3.5), (-75, 3.5))
            Line((-75, 3.5), (-75, 0.5))
        make_face()
        with BuildLine():
            Line((-70, 3.5), (-70, 0.5))
            ThreePointArc((-70, 0.5), (-67.5, -2), (-65, 0.5))
            Line((-65, 0.5), (-65, 3.5))
            Line((-65, 3.5), (-70, 3.5))
        make_face()
        with BuildLine():
            ThreePointArc((-55, 0.5), (-57.5, -2), (-60, 0.5))
            Line((-60, 0.5), (-60, 3.5))
            Line((-60, 3.5), (-55, 3.5))
            Line((-55, 3.5), (-55, 0.5))
        make_face()
        with BuildLine():
            Line((-50, 3.5), (-50, 0.5))
            ThreePointArc((-50, 0.5), (-47.5, -2), (-45, 0.5))
            Line((-45, 0.5), (-45, 3.5))
            Line((-45, 3.5), (-50, 3.5))
        make_face()
        with BuildLine():
            ThreePointArc((-35, 0.5), (-37.5, -2), (-40, 0.5))
            Line((-40, 0.5), (-40, 3.5))
            Line((-40, 3.5), (-35, 3.5))
            Line((-35, 3.5), (-35, 0.5))
        make_face()
        with BuildLine():
            Line((-30, 3.5), (-30, 0.5))
            ThreePointArc((-30, 0.5), (-27.5, -2), (-25, 0.5))
            Line((-25, 0.5), (-25, 3.5))
            Line((-25, 3.5), (-30, 3.5))
        make_face()
        with BuildLine():
            ThreePointArc((-15, 0.5), (-17.5, -2), (-20, 0.5))
            Line((-20, 0.5), (-20, 3.5))
            Line((-20, 3.5), (-15, 3.5))
            Line((-15, 3.5), (-15, 0.5))
        make_face()
        with BuildLine():
            Line((-10, 3.5), (-10, 0.5))
            ThreePointArc((-10, 0.5), (-7.5, -2), (-5, 0.5))
            Line((-5, 0.5), (-5, 3.5))
            Line((-5, 3.5), (-10, 3.5))
        make_face()
        with BuildLine():
            ThreePointArc((5, 0.5), (2.5, -2), (0, 0.5))
            Line((0, 0.5), (0, 3.5))
            Line((0, 3.5), (5, 3.5))
            Line((5, 3.5), (5, 0.5))
        make_face()
    extrude(amount=-CUT_EXTRUDE2_DEPTH, mode=Mode.SUBTRACT)

    # Fillet1
    fillet1_edges = [part.edges().sort_by_distance(p)[0] for p in [
        (12.5, -7.5, 107.5),
        (-12.5, -7.5, 107.5),
        (-12.5, 7.5, 107.5),
        (12.5, 7.5, 107.5),
    ]]
    fillet(fillet1_edges, radius=FILLET1_R)


solid = part.part
